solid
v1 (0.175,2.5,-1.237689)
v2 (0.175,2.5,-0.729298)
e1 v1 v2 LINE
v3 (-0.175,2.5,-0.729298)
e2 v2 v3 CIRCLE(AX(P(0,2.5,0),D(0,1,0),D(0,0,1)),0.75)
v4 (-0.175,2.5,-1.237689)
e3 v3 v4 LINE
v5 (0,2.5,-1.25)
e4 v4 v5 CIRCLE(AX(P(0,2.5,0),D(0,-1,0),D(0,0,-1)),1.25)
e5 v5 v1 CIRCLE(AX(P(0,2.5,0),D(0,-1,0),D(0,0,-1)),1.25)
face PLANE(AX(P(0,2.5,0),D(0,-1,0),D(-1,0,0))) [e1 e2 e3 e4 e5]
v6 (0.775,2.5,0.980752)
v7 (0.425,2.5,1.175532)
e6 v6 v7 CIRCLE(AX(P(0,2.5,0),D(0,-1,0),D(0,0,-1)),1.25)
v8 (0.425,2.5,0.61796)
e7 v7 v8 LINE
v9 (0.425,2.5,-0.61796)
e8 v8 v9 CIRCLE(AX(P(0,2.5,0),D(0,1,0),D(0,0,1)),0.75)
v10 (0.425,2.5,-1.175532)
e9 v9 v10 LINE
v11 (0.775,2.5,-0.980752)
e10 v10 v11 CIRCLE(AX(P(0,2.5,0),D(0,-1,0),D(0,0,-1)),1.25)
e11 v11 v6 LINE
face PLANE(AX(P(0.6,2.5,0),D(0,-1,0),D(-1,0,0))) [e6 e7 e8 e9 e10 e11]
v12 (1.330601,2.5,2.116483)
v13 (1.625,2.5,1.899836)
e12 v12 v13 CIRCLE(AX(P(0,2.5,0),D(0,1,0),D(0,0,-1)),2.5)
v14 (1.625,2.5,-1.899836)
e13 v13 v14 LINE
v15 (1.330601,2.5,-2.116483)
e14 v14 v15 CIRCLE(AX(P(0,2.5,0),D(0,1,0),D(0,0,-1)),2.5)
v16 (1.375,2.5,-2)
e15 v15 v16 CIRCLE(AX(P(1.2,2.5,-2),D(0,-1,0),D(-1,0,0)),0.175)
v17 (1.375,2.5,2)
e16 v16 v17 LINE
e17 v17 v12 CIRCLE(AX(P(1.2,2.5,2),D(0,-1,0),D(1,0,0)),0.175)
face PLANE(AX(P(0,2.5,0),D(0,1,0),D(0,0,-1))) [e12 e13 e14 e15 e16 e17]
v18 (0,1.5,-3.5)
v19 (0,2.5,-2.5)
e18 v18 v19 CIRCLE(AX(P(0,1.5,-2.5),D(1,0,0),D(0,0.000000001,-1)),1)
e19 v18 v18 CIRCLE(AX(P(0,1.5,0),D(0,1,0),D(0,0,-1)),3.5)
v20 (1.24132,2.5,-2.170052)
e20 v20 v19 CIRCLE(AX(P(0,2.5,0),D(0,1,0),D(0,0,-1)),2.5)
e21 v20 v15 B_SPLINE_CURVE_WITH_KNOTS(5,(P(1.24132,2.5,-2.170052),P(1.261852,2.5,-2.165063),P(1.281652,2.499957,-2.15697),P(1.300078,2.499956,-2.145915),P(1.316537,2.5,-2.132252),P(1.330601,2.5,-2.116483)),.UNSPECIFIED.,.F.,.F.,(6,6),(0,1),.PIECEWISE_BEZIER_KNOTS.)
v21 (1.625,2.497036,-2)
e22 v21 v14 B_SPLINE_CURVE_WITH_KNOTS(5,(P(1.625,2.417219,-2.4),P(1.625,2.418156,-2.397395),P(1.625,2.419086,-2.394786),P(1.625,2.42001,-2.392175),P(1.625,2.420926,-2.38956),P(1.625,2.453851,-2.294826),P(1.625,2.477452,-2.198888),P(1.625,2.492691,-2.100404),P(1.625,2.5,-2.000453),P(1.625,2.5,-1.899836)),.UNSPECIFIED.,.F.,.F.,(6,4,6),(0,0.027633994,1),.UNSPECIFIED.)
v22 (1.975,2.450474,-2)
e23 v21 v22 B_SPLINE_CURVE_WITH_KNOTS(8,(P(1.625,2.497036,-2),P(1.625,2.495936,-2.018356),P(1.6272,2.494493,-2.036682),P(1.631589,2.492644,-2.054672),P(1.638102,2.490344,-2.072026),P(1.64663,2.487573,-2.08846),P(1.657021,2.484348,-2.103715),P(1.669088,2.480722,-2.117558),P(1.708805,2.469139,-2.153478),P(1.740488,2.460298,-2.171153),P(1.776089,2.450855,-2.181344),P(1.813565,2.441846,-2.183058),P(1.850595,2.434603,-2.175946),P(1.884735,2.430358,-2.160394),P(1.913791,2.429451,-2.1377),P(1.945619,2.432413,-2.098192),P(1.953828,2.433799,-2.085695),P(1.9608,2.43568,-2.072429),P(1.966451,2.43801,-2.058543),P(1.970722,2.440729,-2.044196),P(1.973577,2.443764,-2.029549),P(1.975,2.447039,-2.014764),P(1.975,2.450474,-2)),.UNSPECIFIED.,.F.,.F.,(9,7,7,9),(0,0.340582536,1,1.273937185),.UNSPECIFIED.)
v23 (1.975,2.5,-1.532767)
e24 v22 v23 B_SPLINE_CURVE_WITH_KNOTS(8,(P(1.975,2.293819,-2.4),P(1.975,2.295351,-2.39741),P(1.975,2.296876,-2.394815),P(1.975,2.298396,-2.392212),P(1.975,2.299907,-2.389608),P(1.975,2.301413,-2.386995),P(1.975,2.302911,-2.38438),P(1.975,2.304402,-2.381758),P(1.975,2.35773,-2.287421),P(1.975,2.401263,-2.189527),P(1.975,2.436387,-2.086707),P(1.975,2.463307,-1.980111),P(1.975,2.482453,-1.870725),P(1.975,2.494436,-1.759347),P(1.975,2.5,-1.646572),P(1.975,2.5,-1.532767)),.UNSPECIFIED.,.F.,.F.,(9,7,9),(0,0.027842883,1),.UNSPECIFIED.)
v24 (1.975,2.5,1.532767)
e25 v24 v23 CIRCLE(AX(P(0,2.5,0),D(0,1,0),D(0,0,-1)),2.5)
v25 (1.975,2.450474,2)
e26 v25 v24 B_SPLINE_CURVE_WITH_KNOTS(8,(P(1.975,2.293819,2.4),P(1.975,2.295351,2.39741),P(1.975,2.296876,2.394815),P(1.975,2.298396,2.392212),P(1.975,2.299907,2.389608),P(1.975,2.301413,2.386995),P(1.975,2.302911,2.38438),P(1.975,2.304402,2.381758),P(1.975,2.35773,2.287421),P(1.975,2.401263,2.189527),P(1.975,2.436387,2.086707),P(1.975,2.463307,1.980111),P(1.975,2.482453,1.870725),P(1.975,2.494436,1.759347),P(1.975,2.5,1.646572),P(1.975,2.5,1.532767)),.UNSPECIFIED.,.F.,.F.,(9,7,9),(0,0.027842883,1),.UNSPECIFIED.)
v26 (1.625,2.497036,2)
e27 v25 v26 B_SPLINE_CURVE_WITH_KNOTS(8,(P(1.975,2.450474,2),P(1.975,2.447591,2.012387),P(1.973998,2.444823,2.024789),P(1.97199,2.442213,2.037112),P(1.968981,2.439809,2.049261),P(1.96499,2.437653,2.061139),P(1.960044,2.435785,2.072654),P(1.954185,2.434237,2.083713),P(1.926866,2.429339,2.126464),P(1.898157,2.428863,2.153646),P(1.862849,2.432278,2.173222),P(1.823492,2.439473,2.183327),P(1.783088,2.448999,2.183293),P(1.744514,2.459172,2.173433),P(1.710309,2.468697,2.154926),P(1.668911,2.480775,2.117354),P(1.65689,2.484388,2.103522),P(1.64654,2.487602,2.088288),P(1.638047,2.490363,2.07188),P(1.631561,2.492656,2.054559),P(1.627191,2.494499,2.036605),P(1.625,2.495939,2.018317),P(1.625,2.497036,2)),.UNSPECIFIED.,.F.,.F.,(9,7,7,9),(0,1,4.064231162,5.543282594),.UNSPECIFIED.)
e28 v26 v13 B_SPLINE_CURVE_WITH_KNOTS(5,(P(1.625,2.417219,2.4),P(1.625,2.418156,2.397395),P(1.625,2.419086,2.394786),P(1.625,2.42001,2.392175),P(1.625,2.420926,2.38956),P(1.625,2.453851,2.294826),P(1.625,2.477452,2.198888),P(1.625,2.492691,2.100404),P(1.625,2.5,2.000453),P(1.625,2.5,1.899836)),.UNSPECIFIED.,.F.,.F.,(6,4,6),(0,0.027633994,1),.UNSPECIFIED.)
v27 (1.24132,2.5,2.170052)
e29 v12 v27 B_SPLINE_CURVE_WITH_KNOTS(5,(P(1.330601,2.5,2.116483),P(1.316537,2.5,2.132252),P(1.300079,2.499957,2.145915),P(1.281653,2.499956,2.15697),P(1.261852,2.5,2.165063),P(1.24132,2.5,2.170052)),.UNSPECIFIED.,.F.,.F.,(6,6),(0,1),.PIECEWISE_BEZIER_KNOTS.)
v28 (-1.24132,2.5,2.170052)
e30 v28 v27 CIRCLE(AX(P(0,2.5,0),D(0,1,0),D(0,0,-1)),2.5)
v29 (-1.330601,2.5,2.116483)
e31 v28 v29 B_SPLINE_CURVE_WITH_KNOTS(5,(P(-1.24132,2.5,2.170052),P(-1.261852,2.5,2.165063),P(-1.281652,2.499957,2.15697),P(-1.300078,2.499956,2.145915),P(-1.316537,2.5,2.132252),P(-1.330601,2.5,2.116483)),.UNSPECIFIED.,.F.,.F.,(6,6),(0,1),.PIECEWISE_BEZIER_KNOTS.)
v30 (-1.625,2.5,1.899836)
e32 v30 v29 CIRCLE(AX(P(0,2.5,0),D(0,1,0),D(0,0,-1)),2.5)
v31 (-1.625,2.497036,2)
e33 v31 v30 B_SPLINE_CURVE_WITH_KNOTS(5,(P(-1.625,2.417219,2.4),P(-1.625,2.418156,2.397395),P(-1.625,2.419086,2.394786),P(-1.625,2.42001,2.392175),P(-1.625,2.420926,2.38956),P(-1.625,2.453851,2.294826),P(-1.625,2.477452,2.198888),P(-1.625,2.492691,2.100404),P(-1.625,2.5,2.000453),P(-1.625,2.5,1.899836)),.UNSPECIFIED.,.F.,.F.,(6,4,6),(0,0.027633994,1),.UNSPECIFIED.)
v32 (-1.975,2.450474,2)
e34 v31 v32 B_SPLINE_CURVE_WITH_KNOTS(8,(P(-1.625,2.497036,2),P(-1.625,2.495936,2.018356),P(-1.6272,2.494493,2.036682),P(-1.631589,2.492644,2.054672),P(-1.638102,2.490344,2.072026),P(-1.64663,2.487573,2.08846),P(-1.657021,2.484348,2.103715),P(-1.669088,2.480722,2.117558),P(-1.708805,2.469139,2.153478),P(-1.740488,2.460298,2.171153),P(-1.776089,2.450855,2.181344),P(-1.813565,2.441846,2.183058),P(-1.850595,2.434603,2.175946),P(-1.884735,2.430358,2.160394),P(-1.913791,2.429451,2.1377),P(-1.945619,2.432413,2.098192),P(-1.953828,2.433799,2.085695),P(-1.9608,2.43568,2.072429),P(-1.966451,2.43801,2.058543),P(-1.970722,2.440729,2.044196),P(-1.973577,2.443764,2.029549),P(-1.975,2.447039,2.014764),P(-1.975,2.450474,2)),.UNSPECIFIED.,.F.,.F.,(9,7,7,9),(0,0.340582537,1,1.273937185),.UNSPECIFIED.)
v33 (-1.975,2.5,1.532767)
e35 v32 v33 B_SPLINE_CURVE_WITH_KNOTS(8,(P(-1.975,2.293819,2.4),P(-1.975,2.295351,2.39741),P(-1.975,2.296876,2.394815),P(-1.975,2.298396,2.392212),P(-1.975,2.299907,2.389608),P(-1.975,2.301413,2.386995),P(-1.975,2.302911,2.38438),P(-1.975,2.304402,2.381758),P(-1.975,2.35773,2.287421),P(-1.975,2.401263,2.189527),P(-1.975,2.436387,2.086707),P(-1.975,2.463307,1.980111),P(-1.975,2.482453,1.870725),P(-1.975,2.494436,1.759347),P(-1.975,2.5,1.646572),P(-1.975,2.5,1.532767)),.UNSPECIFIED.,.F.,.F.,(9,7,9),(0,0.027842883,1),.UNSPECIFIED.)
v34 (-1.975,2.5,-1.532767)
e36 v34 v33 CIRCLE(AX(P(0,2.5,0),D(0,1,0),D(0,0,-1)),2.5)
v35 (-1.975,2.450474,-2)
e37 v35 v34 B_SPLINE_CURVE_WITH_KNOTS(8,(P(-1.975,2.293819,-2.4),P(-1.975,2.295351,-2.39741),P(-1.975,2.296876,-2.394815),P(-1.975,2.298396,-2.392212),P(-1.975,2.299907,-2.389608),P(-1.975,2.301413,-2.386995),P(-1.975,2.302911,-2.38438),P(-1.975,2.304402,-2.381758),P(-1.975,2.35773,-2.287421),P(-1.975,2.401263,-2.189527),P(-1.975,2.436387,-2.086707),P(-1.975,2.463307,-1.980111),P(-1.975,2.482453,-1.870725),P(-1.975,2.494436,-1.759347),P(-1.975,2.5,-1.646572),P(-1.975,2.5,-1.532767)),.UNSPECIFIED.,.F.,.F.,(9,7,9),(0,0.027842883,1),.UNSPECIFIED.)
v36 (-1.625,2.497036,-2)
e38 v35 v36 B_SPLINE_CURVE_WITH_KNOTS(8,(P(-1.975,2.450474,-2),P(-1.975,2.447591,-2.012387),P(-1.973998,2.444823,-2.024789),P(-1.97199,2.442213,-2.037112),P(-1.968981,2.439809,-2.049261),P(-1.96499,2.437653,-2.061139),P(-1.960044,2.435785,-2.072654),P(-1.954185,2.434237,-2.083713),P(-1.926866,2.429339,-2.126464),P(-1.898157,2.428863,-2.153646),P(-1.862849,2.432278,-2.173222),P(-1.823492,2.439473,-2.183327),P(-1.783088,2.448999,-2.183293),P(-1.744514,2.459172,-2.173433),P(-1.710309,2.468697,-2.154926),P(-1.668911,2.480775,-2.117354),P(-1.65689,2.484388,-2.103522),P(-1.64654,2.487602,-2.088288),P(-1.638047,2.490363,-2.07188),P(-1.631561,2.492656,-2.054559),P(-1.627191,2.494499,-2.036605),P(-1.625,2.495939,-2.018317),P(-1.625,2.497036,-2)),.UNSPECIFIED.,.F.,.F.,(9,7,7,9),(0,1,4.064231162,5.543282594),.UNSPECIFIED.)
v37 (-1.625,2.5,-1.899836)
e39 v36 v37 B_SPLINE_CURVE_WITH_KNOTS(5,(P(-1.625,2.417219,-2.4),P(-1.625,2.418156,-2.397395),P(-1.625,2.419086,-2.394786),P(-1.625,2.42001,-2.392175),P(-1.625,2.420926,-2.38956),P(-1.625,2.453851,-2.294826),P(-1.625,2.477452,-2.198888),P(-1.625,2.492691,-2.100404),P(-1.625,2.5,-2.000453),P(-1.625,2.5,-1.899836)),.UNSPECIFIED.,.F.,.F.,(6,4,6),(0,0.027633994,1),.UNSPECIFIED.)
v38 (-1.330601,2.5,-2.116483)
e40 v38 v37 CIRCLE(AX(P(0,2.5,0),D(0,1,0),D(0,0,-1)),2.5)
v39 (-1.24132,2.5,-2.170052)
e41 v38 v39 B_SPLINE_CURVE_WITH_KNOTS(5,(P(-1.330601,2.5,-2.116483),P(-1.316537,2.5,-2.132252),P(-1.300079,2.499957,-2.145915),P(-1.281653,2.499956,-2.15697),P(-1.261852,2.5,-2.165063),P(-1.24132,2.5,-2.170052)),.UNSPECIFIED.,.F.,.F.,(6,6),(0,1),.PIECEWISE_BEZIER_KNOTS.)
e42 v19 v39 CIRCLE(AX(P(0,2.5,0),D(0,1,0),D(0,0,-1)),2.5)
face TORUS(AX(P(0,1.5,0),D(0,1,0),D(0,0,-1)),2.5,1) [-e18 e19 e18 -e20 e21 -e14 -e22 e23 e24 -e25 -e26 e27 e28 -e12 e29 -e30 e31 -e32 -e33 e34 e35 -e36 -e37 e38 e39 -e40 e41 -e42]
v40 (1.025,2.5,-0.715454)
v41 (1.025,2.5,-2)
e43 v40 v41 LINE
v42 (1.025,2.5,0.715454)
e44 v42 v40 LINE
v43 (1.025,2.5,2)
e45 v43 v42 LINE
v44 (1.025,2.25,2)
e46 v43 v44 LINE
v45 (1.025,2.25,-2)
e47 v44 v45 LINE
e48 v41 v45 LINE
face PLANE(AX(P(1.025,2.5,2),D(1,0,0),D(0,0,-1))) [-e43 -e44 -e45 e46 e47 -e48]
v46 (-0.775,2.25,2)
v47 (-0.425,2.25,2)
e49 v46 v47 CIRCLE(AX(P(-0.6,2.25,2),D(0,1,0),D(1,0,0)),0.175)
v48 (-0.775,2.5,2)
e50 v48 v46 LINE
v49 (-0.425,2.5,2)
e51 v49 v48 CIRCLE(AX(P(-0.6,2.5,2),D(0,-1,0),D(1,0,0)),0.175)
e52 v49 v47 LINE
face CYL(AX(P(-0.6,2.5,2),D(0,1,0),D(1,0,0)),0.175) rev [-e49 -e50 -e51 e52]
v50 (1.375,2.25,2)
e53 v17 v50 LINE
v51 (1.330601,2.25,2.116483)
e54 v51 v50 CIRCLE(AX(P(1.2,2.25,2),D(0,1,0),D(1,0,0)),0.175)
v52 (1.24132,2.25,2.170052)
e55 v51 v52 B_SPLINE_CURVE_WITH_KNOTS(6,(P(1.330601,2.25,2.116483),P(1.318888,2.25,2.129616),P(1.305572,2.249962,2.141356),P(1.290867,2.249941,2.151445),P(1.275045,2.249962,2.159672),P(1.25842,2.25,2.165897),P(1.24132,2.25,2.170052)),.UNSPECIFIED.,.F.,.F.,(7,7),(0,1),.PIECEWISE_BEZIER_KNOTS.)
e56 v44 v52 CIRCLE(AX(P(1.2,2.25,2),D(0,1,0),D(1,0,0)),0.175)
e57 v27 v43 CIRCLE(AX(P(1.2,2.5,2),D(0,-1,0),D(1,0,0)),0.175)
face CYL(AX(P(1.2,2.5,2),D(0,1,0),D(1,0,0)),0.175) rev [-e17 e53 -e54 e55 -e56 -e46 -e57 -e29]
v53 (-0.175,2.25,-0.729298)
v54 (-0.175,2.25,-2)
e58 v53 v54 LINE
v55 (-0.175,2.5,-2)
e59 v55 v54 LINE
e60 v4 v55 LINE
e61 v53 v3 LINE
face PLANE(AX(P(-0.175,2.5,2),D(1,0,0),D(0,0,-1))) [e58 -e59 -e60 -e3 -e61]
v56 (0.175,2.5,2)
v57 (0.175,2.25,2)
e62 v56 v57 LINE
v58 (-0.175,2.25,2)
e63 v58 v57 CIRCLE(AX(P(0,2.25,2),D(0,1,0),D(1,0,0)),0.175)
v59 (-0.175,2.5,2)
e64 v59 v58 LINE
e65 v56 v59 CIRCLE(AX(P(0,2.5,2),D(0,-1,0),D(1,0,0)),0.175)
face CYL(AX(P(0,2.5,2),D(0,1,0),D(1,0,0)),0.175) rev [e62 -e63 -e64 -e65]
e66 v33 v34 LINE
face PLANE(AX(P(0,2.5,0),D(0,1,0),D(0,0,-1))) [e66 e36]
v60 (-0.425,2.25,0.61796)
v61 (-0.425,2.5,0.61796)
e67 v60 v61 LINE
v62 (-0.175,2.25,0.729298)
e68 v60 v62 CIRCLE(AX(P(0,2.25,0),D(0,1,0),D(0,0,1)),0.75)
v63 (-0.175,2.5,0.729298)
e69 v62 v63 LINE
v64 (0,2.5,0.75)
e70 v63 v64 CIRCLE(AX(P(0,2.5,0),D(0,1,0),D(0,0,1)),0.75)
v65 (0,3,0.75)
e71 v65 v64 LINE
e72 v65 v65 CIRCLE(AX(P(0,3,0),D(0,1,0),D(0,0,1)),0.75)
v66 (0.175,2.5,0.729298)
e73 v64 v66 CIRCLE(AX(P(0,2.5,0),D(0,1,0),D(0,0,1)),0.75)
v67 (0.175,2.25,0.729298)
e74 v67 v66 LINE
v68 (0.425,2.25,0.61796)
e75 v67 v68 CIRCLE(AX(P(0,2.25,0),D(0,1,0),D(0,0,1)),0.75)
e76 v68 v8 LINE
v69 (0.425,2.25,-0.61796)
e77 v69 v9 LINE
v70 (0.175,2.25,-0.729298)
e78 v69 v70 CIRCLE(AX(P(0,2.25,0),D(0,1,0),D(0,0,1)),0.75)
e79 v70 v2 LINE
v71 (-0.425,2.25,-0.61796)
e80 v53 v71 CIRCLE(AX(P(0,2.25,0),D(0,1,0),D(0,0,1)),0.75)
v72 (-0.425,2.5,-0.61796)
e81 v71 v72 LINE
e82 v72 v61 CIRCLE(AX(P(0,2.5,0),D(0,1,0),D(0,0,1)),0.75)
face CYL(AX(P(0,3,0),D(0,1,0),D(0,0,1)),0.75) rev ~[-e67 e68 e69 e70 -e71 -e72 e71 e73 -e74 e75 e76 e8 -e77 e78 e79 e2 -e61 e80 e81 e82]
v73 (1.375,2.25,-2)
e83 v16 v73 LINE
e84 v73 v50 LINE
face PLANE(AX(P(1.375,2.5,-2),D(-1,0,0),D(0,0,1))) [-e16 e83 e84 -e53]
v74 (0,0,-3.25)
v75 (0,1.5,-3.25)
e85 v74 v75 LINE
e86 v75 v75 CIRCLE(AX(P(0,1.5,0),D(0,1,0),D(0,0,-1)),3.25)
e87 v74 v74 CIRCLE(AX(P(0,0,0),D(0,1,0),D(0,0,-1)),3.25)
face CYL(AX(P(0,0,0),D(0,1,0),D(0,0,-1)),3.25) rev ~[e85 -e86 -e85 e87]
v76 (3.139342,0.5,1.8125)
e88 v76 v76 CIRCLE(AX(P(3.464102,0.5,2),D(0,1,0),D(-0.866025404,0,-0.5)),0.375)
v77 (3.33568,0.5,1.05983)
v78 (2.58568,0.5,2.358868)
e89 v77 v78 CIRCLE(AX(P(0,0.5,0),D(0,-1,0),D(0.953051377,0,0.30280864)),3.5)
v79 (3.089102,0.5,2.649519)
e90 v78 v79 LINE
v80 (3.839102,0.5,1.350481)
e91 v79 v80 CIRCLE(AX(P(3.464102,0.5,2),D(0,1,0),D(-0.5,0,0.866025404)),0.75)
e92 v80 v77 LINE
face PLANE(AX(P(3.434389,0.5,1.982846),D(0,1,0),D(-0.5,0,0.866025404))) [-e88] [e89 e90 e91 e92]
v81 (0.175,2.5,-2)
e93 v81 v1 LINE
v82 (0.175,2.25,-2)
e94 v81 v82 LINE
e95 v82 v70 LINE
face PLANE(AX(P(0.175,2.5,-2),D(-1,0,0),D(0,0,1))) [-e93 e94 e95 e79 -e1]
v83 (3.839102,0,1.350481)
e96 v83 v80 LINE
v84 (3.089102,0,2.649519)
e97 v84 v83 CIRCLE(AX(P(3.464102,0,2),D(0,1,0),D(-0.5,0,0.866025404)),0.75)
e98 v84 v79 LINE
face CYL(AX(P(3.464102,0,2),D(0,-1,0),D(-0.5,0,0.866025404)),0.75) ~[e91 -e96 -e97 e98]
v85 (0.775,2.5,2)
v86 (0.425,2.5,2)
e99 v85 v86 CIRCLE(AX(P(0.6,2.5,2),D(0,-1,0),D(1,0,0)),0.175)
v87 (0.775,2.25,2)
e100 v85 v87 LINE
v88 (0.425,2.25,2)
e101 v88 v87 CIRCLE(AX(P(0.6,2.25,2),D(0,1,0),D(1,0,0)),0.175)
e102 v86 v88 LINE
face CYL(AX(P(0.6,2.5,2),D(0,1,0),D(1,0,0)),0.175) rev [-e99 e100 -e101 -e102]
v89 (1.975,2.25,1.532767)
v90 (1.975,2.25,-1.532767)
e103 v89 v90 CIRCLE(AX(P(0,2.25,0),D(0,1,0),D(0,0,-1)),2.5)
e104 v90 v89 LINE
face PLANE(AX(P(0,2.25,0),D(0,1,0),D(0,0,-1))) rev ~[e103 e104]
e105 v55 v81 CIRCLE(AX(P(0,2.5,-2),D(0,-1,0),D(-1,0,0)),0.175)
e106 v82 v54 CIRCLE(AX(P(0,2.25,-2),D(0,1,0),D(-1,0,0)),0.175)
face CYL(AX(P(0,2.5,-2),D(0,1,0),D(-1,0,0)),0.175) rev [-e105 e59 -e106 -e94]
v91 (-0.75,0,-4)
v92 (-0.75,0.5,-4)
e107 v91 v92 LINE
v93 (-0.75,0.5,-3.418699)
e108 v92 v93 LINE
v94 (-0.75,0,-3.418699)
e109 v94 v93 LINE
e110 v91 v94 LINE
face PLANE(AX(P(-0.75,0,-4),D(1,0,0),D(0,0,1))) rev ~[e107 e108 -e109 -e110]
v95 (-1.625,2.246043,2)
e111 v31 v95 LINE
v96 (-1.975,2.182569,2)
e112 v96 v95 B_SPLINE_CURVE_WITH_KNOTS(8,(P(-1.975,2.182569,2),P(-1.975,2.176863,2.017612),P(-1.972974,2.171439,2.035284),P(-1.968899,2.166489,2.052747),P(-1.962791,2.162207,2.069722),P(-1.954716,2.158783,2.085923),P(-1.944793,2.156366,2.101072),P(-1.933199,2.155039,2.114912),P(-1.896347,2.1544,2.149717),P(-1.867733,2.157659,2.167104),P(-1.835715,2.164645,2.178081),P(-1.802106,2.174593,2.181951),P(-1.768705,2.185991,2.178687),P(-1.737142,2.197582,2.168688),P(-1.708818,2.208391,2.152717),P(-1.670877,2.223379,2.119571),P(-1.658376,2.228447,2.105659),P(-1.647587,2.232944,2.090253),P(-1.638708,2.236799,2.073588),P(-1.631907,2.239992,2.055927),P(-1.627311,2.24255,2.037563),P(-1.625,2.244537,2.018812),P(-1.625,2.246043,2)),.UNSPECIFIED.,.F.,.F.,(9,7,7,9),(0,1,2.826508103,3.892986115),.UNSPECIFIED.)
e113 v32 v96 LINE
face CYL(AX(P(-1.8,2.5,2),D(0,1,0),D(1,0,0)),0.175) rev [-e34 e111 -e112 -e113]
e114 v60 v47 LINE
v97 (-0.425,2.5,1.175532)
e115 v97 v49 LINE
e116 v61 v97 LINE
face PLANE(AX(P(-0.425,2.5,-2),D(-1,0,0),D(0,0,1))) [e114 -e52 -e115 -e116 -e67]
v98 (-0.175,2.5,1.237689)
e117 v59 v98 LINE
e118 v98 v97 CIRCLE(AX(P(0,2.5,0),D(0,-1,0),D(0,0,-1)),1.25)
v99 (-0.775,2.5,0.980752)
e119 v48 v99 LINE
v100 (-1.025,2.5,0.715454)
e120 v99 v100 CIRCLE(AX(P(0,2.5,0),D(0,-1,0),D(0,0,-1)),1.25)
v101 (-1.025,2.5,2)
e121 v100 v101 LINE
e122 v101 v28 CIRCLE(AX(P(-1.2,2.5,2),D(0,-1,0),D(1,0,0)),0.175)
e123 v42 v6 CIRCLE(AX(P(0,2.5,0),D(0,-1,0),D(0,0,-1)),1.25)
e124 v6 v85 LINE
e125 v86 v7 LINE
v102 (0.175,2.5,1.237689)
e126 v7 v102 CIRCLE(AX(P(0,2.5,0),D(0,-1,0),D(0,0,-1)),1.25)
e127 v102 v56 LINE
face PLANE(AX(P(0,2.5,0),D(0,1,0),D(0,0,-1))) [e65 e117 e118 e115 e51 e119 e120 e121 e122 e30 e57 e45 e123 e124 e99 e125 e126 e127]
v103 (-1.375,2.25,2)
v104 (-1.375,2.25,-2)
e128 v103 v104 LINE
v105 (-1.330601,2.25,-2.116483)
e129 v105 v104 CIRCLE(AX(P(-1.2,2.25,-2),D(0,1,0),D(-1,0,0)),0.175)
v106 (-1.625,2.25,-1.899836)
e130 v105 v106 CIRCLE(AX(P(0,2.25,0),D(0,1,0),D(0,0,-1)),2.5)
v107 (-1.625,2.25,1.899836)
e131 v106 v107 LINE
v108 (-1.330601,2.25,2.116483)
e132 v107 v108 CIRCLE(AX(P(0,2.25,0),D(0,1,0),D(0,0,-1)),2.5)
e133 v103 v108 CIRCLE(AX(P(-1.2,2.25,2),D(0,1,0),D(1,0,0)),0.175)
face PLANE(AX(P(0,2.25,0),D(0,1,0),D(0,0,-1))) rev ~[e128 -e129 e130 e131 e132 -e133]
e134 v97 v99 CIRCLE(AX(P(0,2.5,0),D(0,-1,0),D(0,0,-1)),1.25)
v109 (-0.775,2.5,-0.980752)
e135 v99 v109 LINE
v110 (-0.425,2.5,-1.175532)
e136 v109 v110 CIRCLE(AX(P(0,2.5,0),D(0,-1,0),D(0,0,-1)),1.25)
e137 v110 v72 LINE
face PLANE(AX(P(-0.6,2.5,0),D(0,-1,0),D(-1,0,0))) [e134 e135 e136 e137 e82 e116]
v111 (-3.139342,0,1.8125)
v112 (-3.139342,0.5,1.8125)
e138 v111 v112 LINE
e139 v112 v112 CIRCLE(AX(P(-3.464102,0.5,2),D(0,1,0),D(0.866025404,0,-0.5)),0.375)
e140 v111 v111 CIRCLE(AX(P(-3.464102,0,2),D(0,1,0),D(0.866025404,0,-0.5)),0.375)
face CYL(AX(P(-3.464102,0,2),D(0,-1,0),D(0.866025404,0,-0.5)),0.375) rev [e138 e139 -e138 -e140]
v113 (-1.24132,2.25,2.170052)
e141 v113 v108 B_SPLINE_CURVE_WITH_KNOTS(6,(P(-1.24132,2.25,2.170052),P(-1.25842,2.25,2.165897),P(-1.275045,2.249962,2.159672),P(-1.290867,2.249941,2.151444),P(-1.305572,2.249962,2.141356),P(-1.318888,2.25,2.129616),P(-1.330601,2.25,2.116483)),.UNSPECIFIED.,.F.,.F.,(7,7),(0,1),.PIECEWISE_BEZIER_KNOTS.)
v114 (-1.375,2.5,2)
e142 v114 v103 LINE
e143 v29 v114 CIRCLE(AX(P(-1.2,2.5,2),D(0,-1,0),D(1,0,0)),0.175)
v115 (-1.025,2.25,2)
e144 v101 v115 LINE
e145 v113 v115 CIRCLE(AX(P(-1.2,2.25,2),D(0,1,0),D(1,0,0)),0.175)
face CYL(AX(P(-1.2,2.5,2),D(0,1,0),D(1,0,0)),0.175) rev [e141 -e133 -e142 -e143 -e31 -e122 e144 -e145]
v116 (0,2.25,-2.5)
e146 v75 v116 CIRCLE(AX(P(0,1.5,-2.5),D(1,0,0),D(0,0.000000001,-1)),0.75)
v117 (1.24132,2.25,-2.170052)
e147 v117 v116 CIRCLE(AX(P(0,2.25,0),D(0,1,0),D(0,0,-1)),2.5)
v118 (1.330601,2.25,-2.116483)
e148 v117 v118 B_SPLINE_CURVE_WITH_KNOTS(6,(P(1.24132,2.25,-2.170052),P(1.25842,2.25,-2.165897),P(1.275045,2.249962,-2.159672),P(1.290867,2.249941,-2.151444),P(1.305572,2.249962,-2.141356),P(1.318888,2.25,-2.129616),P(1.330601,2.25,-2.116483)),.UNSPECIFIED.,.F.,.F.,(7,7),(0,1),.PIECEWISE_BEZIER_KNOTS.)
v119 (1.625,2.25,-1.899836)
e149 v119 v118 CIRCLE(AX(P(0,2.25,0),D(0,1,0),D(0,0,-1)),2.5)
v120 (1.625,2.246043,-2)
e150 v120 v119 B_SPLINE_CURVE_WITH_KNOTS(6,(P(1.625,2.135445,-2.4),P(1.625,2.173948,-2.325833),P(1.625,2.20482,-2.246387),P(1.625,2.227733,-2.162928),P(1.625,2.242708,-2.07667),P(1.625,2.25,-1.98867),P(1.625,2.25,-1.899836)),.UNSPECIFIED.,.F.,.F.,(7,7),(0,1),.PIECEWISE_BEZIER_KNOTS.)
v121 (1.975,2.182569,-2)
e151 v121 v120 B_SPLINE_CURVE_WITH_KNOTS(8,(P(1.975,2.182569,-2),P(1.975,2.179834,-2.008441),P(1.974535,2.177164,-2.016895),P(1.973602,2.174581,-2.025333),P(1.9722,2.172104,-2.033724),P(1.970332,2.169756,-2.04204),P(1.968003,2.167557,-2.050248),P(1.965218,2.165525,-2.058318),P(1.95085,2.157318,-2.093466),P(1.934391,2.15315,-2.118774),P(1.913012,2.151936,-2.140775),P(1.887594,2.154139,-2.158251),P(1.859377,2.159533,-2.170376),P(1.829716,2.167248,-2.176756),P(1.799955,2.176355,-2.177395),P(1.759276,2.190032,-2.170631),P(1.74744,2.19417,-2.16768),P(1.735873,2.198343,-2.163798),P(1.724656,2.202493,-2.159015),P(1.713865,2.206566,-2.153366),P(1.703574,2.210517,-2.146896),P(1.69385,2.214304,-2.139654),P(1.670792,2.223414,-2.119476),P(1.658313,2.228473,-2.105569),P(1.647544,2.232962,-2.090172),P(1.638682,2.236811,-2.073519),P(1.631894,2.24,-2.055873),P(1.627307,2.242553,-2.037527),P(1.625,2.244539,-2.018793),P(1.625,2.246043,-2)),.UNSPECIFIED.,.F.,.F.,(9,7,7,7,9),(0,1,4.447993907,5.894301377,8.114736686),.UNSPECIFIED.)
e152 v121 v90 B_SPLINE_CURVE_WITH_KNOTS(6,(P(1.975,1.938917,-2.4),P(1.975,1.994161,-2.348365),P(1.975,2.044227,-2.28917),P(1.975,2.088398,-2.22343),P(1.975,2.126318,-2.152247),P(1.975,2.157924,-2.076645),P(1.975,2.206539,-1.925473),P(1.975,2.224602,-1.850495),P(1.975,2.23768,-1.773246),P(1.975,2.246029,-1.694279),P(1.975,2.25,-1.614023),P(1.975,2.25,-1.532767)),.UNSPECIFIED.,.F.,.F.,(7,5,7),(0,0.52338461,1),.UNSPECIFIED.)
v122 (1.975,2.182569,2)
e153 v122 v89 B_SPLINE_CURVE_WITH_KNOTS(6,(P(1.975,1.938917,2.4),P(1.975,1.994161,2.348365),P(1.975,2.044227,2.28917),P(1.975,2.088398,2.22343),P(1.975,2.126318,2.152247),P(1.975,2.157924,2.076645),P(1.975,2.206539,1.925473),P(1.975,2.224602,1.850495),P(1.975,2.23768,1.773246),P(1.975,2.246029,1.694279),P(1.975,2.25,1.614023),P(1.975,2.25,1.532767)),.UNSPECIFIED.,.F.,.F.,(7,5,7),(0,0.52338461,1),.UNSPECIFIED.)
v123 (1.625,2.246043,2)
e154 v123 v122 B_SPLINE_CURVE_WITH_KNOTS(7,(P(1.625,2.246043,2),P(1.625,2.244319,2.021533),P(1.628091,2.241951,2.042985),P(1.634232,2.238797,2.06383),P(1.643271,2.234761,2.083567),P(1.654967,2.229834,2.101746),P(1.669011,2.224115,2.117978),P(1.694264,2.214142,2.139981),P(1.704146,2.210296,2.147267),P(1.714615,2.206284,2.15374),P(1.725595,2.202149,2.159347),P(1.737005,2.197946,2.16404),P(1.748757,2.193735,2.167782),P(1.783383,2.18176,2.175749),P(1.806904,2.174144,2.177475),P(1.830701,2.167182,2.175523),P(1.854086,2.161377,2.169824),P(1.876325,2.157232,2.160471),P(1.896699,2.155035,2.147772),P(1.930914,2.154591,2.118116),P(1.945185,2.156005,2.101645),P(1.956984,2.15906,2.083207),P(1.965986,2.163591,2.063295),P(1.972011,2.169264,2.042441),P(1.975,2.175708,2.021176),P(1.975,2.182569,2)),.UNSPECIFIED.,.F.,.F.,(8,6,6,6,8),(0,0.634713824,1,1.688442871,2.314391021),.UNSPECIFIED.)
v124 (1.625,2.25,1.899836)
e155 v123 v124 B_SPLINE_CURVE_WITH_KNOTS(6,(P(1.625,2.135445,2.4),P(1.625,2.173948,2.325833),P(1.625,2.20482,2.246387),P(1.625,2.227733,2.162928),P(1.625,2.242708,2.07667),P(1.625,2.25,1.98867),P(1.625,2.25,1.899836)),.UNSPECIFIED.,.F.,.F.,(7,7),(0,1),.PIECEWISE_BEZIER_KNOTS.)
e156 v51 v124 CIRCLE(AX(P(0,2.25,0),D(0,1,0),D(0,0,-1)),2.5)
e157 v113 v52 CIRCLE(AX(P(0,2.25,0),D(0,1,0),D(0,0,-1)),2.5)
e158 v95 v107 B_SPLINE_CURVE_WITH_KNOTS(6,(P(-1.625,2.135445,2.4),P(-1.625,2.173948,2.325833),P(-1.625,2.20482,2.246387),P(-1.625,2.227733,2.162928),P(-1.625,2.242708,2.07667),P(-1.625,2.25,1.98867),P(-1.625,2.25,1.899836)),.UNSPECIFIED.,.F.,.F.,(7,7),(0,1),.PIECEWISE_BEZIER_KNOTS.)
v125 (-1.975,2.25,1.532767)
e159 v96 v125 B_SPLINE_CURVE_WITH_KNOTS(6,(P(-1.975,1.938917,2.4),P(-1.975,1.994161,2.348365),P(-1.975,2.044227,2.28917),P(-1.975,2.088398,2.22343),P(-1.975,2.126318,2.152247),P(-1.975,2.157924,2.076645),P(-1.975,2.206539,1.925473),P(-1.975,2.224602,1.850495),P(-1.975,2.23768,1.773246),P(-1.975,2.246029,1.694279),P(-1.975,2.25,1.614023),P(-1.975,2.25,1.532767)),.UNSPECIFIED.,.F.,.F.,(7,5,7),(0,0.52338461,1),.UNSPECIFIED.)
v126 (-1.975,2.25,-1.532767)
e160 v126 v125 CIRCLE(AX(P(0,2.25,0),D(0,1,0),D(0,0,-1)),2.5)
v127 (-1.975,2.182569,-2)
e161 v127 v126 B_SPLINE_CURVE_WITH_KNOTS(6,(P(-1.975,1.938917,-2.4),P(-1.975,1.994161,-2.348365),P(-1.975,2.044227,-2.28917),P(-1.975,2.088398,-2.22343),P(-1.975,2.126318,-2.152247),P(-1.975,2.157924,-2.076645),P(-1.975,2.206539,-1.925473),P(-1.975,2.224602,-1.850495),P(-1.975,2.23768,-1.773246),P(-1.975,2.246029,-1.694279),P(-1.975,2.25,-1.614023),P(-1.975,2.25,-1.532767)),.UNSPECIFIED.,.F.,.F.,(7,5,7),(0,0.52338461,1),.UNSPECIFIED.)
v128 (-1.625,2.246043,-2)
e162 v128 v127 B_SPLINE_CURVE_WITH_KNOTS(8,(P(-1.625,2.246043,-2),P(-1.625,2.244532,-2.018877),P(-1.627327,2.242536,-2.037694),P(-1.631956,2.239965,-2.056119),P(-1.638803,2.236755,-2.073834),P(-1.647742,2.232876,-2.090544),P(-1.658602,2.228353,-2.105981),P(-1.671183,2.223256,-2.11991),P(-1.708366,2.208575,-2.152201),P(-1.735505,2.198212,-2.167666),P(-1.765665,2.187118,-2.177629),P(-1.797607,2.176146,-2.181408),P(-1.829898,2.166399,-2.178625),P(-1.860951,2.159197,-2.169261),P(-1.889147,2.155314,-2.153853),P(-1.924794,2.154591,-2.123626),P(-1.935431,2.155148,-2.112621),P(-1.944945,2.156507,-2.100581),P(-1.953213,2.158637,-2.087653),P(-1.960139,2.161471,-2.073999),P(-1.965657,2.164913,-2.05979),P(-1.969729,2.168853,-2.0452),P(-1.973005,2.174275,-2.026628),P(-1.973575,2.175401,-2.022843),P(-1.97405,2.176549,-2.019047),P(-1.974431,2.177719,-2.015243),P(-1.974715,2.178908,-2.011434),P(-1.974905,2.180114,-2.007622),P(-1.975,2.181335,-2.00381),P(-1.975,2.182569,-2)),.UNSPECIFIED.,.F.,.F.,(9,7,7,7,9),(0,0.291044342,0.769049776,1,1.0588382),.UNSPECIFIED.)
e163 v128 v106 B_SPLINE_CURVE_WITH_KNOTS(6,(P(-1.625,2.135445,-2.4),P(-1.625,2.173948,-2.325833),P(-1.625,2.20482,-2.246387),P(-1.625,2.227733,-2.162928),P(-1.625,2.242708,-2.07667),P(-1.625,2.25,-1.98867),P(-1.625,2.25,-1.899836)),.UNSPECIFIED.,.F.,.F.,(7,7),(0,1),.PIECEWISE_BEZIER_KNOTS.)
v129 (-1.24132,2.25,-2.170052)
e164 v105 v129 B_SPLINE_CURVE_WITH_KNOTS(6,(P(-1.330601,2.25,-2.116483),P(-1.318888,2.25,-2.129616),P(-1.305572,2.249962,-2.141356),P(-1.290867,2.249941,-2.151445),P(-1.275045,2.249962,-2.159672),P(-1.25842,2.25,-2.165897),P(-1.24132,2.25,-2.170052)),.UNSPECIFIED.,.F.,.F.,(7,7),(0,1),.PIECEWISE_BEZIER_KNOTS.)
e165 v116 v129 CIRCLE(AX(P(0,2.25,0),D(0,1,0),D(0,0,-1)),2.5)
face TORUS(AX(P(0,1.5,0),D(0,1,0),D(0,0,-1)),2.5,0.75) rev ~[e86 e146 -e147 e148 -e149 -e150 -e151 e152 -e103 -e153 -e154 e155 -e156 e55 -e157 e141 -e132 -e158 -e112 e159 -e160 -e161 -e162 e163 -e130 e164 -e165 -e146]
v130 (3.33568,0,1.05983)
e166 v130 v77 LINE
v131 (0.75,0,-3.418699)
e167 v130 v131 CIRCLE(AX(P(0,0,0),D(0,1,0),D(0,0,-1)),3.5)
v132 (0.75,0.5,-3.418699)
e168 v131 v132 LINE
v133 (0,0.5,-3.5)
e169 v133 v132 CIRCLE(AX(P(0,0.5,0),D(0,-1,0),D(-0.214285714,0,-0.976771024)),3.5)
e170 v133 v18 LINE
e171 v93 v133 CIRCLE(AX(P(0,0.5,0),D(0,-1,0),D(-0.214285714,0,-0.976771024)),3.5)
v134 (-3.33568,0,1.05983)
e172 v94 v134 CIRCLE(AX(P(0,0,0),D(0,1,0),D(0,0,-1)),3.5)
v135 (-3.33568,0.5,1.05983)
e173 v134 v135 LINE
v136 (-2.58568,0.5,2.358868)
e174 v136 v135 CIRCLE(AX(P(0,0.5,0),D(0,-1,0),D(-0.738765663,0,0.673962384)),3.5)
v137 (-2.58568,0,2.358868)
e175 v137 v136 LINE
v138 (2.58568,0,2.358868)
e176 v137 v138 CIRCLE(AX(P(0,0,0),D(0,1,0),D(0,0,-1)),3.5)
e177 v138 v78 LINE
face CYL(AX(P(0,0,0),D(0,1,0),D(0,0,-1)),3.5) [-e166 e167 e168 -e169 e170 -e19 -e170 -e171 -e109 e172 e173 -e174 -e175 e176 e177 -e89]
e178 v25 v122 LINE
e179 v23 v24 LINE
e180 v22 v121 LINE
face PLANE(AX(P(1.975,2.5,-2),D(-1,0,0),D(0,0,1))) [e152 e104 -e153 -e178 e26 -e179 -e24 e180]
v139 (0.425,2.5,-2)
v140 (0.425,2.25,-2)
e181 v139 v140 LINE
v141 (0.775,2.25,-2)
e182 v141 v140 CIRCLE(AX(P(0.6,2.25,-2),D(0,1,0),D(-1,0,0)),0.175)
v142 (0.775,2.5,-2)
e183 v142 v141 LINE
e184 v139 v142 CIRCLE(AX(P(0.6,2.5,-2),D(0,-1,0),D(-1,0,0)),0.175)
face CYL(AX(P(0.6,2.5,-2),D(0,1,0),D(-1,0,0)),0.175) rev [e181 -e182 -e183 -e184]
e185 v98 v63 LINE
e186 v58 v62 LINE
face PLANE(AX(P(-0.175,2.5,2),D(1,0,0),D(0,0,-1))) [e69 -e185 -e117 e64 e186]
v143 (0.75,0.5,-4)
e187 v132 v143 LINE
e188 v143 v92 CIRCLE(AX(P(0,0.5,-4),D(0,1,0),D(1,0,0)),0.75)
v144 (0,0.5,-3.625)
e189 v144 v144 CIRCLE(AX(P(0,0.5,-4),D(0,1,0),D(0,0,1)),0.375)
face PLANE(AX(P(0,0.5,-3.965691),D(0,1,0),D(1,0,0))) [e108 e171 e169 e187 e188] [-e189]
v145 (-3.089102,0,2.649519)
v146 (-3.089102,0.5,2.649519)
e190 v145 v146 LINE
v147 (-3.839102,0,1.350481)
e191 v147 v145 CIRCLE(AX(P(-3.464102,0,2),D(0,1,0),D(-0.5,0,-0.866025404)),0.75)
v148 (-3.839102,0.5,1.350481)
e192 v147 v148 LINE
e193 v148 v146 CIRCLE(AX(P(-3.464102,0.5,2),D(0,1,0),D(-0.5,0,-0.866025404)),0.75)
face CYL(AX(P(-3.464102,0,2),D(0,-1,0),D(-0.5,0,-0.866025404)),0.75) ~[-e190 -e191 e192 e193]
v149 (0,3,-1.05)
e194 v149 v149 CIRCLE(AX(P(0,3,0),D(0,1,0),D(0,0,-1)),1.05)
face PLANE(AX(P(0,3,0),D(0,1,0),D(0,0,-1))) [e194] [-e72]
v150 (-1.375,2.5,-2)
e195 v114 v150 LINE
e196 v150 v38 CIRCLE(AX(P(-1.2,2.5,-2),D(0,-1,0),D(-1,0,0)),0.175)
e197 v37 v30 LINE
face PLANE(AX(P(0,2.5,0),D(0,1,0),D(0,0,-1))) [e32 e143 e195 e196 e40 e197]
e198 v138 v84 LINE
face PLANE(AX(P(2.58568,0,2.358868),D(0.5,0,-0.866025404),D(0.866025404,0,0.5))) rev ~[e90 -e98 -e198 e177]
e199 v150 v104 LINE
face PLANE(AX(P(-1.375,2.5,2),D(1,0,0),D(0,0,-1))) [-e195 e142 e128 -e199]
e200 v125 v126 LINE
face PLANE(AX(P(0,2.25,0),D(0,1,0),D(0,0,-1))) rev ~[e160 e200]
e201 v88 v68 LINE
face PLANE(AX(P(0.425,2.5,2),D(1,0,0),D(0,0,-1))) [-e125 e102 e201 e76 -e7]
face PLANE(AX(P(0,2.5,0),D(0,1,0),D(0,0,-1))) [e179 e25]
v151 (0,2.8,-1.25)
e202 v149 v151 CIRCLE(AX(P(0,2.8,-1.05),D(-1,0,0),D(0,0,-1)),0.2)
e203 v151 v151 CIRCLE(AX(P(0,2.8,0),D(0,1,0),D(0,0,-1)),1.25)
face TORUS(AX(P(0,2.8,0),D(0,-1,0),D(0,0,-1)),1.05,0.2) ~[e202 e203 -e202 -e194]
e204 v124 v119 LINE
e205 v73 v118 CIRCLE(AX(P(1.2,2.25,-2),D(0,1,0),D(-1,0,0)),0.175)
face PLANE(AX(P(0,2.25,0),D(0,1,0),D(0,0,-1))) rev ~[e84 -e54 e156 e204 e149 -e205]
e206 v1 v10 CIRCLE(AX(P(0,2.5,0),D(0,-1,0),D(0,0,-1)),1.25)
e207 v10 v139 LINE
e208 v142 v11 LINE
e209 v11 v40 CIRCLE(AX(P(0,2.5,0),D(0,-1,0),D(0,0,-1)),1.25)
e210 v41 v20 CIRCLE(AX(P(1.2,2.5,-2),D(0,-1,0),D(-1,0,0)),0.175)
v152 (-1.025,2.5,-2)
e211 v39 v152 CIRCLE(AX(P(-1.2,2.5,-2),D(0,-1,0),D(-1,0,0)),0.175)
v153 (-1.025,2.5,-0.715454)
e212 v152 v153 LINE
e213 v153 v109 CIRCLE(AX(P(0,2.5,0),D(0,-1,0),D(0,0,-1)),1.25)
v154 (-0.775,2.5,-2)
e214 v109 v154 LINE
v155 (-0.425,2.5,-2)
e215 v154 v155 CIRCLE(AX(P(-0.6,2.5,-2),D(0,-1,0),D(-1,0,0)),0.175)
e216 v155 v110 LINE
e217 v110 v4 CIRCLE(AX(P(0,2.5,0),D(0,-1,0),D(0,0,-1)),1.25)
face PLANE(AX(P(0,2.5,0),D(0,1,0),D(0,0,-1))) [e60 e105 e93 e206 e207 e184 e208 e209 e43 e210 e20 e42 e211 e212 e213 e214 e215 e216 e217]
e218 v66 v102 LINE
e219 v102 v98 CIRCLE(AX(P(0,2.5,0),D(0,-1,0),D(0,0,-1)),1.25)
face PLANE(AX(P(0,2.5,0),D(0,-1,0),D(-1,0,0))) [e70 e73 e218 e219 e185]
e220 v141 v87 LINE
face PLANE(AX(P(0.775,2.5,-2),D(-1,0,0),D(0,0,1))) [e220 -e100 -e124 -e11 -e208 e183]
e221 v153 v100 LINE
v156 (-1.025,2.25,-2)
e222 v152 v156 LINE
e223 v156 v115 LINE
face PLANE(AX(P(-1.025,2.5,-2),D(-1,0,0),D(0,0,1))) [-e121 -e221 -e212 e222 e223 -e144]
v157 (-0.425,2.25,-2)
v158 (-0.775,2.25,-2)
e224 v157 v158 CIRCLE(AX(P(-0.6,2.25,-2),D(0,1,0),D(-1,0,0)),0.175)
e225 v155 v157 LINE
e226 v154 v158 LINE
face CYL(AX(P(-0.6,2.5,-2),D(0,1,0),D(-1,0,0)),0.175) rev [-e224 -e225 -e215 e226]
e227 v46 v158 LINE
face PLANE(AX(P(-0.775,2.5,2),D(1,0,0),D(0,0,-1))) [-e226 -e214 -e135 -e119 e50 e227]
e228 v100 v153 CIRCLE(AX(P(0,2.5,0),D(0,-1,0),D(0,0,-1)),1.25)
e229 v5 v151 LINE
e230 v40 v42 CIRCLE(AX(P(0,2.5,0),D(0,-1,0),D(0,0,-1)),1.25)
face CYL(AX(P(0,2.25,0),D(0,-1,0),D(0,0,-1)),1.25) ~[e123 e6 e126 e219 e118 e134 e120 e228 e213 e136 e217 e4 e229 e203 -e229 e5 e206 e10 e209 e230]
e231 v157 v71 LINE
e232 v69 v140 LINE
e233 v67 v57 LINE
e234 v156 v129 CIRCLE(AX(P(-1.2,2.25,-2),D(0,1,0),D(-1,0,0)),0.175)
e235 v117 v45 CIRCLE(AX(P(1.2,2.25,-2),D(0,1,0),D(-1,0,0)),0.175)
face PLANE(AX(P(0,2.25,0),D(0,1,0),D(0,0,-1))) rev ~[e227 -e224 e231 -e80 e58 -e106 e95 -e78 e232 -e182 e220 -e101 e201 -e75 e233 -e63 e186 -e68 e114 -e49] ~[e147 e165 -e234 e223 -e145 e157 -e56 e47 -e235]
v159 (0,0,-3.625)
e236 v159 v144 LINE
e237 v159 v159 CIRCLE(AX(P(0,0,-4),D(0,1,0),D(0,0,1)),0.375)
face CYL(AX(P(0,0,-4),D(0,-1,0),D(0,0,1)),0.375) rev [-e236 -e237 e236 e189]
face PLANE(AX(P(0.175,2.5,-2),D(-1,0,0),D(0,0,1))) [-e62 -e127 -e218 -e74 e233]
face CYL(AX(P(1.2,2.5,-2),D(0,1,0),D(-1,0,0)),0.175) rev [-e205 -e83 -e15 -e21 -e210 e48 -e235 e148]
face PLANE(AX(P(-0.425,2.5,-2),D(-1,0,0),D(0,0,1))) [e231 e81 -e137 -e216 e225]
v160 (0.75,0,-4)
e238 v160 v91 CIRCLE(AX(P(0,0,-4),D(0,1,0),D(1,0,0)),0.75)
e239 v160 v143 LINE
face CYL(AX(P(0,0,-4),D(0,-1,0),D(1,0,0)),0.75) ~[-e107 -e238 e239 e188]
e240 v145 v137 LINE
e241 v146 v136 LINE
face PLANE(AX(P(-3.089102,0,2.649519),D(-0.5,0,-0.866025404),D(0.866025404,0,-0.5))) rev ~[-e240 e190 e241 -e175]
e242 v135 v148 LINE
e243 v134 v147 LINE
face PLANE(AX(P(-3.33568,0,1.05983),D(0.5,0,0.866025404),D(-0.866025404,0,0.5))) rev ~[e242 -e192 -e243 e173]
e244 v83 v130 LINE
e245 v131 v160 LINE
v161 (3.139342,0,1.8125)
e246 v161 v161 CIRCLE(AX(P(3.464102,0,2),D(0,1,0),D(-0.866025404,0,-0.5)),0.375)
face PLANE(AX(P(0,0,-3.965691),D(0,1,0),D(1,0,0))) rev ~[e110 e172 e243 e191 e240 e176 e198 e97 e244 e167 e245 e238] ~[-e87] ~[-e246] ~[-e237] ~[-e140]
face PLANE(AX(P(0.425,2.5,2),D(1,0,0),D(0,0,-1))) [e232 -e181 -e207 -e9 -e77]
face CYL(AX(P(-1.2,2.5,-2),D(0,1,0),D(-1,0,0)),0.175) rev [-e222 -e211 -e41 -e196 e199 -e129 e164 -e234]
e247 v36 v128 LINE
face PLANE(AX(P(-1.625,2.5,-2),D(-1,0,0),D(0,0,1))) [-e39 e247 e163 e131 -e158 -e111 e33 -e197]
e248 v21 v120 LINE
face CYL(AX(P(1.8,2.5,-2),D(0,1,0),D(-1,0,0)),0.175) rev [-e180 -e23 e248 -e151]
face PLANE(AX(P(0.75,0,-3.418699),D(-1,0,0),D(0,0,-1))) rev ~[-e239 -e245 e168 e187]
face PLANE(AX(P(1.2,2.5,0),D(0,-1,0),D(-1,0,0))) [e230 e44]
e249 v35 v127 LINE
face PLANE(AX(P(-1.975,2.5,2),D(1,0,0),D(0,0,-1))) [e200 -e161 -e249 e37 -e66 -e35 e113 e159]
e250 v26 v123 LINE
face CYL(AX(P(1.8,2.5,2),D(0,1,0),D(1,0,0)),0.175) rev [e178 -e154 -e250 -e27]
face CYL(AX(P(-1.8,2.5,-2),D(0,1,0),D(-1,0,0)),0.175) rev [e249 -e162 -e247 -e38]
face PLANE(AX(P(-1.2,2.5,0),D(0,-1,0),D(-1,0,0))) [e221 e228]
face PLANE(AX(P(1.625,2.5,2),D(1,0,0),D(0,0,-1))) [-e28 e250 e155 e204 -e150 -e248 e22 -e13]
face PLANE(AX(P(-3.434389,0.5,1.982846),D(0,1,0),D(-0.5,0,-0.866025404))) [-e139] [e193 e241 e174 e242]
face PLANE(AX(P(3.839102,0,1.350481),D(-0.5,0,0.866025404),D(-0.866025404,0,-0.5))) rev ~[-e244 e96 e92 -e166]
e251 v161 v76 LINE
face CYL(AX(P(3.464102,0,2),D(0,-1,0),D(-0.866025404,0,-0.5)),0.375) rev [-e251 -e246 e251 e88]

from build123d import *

# Parameters (mm, degrees)
SHELL1_T            = -0.25
BOSS_EXTRUDE2_START = 2.25
SKETCH2_R           = 1.25
BOSS_EXTRUDE2_DEPTH = 0.75
SKETCH4_R           = 0.75
CUT_EXTRUDE1_DEPTH  = 1
FILLET1_R           = 0.2
CUT_EXTRUDE2_START  = 2.5
CUT_EXTRUDE2_DEPTH  = 1
SKETCH6_R           = 0.375
BOSS_EXTRUDE3_DEPTH = 0.5
CIRPATTERN2_COUNT   = 3


with BuildPart() as part:
    # Sketch1 → Revolve1 (revolve)
    with BuildSketch(Plane.XY, mode=Mode.PRIVATE) as revolve1_sk:
        with BuildLine():
            Line((-3.5, 0), (-3.5, 1.5))
            ThreePointArc((-3.5, 1.5), (-3.207106781, 2.207106781), (-2.5, 2.5))
            Line((-2.5, 2.5), (0, 2.5))
            Line((0, 2.5), (0, 0))
            Line((0, 0), (-3.5, 0))
        make_face()
    revolve(revolve1_sk.sketch.rotate(Axis((0, 0, 0), (0, 1, 0)), 270), axis=Axis((0, 0, 0), (0, 1, 0)))

    # Shell1
    shell1_openings = [part.faces().sort_by_distance(p)[0] for p in [
        (0, 0, 0),
    ]]
    offset(amount=SHELL1_T, openings=shell1_openings, kind=Kind.INTERSECTION)

    # Sketch2 → Boss-Extrude2 (add)
    with BuildSketch(Plane(origin=(0, 0, 0), x_dir=(1, 0, 0), z_dir=(0, 1, 0)).offset(BOSS_EXTRUDE2_START)):
        with Locations(Location((0, 0, 0), (0, 0, 90))):
            Circle(SKETCH2_R)
    extrude(amount=BOSS_EXTRUDE2_DEPTH)

    # Sketch4 → Cut-Extrude1 (cut)
    with BuildSketch(Plane(origin=(0, 3, 0), x_dir=(1, 0, 0), z_dir=(0, 1, 0))):
        with Locations(Location((0, 0, 0), (0, 0, 270))):
            Circle(SKETCH4_R)
    extrude(amount=-CUT_EXTRUDE1_DEPTH, mode=Mode.SUBTRACT)

    # Fillet1
    fillet1_edges = [part.edges().sort_by_distance(p)[0] for p in [
        (0, 3, 1.25),
    ]]
    fillet(fillet1_edges, radius=FILLET1_R)

    # Sketch5 → Cut-Extrude2 (cut)
    with BuildSketch(Plane(origin=(0, 0, 0), x_dir=(1, 0, 0), z_dir=(0, 1, 0)).offset(CUT_EXTRUDE2_START)):
        with BuildLine():
            Line((1.975, 2), (1.975, -2))
            ThreePointArc((1.975, -2), (1.8, -2.175), (1.625, -2))
            Line((1.625, -2), (1.625, 2))
            ThreePointArc((1.625, 2), (1.8, 2.175), (1.975, 2))
        make_face()
        with BuildLine():
            Line((1.375, 2), (1.375, -2))
            ThreePointArc((1.375, -2), (1.2, -2.175), (1.025, -2))
            Line((1.025, -2), (1.025, 2))
            ThreePointArc((1.025, 2), (1.2, 2.175), (1.375, 2))
        make_face()
        with BuildLine():
            Line((0.775, 2), (0.775, -2))
            ThreePointArc((0.775, -2), (0.6, -2.175), (0.425, -2))
            Line((0.425, -2), (0.425, 2))
            ThreePointArc((0.425, 2), (0.6, 2.175), (0.775, 2))
        make_face()
        with BuildLine():
            Line((0.175, 2), (0.175, -2))
            ThreePointArc((0.175, -2), (0, -2.175), (-0.175, -2))
            Line((-0.175, -2), (-0.175, 2))
            ThreePointArc((-0.175, 2), (0, 2.175), (0.175, 2))
        make_face()
        with BuildLine():
            Line((-0.425, 2), (-0.425, -2))
            ThreePointArc((-0.425, -2), (-0.6, -2.175), (-0.775, -2))
            Line((-0.775, -2), (-0.775, 2))
            ThreePointArc((-0.775, 2), (-0.6, 2.175), (-0.425, 2))
        make_face()
        with BuildLine():
            Line((-1.025, 2), (-1.025, -2))
            ThreePointArc((-1.025, -2), (-1.2, -2.175), (-1.375, -2))
            Line((-1.375, -2), (-1.375, 2))
            ThreePointArc((-1.375, 2), (-1.2, 2.175), (-1.025, 2))
        make_face()
        with BuildLine():
            Line((-1.625, 2), (-1.625, -2))
            ThreePointArc((-1.625, -2), (-1.8, -2.175), (-1.975, -2))
            Line((-1.975, -2), (-1.975, 2))
            ThreePointArc((-1.975, 2), (-1.8, 2.175), (-1.625, 2))
        make_face()
    extrude(amount=-CUT_EXTRUDE2_DEPTH, mode=Mode.SUBTRACT)

    # Sketch6 → Boss-Extrude3 (add)
    with BuildSketch(Plane(origin=(0, 0, 0), x_dir=(1, 0, 0), z_dir=(0, 1, 0))):
        with BuildLine():
            Line((-0.75, 4), (-0.75, 3.418698583))
            ThreePointArc((-0.75, 3.418698583), (0, 3.5), (0.75, 3.418698583))
            Line((0.75, 3.418698583), (0.75, 4))
            ThreePointArc((0.75, 4), (0, 4.75), (-0.75, 4))
        make_face()
        with Locations(Location((0, 4, 0), (0, 0, 270))):
            Circle(SKETCH6_R, mode=Mode.SUBTRACT)
    boss_extrude3 = extrude(amount=BOSS_EXTRUDE3_DEPTH)

    # CirPattern2: Boss-Extrude3 ×3 about axis
    cirpattern2_axis = Axis((0, 0, 0), (0, 1, 0))
    for i in range(1, CIRPATTERN2_COUNT):
        add(boss_extrude3.rotate(cirpattern2_axis, i * 360 / CIRPATTERN2_COUNT))


solid = part.part
